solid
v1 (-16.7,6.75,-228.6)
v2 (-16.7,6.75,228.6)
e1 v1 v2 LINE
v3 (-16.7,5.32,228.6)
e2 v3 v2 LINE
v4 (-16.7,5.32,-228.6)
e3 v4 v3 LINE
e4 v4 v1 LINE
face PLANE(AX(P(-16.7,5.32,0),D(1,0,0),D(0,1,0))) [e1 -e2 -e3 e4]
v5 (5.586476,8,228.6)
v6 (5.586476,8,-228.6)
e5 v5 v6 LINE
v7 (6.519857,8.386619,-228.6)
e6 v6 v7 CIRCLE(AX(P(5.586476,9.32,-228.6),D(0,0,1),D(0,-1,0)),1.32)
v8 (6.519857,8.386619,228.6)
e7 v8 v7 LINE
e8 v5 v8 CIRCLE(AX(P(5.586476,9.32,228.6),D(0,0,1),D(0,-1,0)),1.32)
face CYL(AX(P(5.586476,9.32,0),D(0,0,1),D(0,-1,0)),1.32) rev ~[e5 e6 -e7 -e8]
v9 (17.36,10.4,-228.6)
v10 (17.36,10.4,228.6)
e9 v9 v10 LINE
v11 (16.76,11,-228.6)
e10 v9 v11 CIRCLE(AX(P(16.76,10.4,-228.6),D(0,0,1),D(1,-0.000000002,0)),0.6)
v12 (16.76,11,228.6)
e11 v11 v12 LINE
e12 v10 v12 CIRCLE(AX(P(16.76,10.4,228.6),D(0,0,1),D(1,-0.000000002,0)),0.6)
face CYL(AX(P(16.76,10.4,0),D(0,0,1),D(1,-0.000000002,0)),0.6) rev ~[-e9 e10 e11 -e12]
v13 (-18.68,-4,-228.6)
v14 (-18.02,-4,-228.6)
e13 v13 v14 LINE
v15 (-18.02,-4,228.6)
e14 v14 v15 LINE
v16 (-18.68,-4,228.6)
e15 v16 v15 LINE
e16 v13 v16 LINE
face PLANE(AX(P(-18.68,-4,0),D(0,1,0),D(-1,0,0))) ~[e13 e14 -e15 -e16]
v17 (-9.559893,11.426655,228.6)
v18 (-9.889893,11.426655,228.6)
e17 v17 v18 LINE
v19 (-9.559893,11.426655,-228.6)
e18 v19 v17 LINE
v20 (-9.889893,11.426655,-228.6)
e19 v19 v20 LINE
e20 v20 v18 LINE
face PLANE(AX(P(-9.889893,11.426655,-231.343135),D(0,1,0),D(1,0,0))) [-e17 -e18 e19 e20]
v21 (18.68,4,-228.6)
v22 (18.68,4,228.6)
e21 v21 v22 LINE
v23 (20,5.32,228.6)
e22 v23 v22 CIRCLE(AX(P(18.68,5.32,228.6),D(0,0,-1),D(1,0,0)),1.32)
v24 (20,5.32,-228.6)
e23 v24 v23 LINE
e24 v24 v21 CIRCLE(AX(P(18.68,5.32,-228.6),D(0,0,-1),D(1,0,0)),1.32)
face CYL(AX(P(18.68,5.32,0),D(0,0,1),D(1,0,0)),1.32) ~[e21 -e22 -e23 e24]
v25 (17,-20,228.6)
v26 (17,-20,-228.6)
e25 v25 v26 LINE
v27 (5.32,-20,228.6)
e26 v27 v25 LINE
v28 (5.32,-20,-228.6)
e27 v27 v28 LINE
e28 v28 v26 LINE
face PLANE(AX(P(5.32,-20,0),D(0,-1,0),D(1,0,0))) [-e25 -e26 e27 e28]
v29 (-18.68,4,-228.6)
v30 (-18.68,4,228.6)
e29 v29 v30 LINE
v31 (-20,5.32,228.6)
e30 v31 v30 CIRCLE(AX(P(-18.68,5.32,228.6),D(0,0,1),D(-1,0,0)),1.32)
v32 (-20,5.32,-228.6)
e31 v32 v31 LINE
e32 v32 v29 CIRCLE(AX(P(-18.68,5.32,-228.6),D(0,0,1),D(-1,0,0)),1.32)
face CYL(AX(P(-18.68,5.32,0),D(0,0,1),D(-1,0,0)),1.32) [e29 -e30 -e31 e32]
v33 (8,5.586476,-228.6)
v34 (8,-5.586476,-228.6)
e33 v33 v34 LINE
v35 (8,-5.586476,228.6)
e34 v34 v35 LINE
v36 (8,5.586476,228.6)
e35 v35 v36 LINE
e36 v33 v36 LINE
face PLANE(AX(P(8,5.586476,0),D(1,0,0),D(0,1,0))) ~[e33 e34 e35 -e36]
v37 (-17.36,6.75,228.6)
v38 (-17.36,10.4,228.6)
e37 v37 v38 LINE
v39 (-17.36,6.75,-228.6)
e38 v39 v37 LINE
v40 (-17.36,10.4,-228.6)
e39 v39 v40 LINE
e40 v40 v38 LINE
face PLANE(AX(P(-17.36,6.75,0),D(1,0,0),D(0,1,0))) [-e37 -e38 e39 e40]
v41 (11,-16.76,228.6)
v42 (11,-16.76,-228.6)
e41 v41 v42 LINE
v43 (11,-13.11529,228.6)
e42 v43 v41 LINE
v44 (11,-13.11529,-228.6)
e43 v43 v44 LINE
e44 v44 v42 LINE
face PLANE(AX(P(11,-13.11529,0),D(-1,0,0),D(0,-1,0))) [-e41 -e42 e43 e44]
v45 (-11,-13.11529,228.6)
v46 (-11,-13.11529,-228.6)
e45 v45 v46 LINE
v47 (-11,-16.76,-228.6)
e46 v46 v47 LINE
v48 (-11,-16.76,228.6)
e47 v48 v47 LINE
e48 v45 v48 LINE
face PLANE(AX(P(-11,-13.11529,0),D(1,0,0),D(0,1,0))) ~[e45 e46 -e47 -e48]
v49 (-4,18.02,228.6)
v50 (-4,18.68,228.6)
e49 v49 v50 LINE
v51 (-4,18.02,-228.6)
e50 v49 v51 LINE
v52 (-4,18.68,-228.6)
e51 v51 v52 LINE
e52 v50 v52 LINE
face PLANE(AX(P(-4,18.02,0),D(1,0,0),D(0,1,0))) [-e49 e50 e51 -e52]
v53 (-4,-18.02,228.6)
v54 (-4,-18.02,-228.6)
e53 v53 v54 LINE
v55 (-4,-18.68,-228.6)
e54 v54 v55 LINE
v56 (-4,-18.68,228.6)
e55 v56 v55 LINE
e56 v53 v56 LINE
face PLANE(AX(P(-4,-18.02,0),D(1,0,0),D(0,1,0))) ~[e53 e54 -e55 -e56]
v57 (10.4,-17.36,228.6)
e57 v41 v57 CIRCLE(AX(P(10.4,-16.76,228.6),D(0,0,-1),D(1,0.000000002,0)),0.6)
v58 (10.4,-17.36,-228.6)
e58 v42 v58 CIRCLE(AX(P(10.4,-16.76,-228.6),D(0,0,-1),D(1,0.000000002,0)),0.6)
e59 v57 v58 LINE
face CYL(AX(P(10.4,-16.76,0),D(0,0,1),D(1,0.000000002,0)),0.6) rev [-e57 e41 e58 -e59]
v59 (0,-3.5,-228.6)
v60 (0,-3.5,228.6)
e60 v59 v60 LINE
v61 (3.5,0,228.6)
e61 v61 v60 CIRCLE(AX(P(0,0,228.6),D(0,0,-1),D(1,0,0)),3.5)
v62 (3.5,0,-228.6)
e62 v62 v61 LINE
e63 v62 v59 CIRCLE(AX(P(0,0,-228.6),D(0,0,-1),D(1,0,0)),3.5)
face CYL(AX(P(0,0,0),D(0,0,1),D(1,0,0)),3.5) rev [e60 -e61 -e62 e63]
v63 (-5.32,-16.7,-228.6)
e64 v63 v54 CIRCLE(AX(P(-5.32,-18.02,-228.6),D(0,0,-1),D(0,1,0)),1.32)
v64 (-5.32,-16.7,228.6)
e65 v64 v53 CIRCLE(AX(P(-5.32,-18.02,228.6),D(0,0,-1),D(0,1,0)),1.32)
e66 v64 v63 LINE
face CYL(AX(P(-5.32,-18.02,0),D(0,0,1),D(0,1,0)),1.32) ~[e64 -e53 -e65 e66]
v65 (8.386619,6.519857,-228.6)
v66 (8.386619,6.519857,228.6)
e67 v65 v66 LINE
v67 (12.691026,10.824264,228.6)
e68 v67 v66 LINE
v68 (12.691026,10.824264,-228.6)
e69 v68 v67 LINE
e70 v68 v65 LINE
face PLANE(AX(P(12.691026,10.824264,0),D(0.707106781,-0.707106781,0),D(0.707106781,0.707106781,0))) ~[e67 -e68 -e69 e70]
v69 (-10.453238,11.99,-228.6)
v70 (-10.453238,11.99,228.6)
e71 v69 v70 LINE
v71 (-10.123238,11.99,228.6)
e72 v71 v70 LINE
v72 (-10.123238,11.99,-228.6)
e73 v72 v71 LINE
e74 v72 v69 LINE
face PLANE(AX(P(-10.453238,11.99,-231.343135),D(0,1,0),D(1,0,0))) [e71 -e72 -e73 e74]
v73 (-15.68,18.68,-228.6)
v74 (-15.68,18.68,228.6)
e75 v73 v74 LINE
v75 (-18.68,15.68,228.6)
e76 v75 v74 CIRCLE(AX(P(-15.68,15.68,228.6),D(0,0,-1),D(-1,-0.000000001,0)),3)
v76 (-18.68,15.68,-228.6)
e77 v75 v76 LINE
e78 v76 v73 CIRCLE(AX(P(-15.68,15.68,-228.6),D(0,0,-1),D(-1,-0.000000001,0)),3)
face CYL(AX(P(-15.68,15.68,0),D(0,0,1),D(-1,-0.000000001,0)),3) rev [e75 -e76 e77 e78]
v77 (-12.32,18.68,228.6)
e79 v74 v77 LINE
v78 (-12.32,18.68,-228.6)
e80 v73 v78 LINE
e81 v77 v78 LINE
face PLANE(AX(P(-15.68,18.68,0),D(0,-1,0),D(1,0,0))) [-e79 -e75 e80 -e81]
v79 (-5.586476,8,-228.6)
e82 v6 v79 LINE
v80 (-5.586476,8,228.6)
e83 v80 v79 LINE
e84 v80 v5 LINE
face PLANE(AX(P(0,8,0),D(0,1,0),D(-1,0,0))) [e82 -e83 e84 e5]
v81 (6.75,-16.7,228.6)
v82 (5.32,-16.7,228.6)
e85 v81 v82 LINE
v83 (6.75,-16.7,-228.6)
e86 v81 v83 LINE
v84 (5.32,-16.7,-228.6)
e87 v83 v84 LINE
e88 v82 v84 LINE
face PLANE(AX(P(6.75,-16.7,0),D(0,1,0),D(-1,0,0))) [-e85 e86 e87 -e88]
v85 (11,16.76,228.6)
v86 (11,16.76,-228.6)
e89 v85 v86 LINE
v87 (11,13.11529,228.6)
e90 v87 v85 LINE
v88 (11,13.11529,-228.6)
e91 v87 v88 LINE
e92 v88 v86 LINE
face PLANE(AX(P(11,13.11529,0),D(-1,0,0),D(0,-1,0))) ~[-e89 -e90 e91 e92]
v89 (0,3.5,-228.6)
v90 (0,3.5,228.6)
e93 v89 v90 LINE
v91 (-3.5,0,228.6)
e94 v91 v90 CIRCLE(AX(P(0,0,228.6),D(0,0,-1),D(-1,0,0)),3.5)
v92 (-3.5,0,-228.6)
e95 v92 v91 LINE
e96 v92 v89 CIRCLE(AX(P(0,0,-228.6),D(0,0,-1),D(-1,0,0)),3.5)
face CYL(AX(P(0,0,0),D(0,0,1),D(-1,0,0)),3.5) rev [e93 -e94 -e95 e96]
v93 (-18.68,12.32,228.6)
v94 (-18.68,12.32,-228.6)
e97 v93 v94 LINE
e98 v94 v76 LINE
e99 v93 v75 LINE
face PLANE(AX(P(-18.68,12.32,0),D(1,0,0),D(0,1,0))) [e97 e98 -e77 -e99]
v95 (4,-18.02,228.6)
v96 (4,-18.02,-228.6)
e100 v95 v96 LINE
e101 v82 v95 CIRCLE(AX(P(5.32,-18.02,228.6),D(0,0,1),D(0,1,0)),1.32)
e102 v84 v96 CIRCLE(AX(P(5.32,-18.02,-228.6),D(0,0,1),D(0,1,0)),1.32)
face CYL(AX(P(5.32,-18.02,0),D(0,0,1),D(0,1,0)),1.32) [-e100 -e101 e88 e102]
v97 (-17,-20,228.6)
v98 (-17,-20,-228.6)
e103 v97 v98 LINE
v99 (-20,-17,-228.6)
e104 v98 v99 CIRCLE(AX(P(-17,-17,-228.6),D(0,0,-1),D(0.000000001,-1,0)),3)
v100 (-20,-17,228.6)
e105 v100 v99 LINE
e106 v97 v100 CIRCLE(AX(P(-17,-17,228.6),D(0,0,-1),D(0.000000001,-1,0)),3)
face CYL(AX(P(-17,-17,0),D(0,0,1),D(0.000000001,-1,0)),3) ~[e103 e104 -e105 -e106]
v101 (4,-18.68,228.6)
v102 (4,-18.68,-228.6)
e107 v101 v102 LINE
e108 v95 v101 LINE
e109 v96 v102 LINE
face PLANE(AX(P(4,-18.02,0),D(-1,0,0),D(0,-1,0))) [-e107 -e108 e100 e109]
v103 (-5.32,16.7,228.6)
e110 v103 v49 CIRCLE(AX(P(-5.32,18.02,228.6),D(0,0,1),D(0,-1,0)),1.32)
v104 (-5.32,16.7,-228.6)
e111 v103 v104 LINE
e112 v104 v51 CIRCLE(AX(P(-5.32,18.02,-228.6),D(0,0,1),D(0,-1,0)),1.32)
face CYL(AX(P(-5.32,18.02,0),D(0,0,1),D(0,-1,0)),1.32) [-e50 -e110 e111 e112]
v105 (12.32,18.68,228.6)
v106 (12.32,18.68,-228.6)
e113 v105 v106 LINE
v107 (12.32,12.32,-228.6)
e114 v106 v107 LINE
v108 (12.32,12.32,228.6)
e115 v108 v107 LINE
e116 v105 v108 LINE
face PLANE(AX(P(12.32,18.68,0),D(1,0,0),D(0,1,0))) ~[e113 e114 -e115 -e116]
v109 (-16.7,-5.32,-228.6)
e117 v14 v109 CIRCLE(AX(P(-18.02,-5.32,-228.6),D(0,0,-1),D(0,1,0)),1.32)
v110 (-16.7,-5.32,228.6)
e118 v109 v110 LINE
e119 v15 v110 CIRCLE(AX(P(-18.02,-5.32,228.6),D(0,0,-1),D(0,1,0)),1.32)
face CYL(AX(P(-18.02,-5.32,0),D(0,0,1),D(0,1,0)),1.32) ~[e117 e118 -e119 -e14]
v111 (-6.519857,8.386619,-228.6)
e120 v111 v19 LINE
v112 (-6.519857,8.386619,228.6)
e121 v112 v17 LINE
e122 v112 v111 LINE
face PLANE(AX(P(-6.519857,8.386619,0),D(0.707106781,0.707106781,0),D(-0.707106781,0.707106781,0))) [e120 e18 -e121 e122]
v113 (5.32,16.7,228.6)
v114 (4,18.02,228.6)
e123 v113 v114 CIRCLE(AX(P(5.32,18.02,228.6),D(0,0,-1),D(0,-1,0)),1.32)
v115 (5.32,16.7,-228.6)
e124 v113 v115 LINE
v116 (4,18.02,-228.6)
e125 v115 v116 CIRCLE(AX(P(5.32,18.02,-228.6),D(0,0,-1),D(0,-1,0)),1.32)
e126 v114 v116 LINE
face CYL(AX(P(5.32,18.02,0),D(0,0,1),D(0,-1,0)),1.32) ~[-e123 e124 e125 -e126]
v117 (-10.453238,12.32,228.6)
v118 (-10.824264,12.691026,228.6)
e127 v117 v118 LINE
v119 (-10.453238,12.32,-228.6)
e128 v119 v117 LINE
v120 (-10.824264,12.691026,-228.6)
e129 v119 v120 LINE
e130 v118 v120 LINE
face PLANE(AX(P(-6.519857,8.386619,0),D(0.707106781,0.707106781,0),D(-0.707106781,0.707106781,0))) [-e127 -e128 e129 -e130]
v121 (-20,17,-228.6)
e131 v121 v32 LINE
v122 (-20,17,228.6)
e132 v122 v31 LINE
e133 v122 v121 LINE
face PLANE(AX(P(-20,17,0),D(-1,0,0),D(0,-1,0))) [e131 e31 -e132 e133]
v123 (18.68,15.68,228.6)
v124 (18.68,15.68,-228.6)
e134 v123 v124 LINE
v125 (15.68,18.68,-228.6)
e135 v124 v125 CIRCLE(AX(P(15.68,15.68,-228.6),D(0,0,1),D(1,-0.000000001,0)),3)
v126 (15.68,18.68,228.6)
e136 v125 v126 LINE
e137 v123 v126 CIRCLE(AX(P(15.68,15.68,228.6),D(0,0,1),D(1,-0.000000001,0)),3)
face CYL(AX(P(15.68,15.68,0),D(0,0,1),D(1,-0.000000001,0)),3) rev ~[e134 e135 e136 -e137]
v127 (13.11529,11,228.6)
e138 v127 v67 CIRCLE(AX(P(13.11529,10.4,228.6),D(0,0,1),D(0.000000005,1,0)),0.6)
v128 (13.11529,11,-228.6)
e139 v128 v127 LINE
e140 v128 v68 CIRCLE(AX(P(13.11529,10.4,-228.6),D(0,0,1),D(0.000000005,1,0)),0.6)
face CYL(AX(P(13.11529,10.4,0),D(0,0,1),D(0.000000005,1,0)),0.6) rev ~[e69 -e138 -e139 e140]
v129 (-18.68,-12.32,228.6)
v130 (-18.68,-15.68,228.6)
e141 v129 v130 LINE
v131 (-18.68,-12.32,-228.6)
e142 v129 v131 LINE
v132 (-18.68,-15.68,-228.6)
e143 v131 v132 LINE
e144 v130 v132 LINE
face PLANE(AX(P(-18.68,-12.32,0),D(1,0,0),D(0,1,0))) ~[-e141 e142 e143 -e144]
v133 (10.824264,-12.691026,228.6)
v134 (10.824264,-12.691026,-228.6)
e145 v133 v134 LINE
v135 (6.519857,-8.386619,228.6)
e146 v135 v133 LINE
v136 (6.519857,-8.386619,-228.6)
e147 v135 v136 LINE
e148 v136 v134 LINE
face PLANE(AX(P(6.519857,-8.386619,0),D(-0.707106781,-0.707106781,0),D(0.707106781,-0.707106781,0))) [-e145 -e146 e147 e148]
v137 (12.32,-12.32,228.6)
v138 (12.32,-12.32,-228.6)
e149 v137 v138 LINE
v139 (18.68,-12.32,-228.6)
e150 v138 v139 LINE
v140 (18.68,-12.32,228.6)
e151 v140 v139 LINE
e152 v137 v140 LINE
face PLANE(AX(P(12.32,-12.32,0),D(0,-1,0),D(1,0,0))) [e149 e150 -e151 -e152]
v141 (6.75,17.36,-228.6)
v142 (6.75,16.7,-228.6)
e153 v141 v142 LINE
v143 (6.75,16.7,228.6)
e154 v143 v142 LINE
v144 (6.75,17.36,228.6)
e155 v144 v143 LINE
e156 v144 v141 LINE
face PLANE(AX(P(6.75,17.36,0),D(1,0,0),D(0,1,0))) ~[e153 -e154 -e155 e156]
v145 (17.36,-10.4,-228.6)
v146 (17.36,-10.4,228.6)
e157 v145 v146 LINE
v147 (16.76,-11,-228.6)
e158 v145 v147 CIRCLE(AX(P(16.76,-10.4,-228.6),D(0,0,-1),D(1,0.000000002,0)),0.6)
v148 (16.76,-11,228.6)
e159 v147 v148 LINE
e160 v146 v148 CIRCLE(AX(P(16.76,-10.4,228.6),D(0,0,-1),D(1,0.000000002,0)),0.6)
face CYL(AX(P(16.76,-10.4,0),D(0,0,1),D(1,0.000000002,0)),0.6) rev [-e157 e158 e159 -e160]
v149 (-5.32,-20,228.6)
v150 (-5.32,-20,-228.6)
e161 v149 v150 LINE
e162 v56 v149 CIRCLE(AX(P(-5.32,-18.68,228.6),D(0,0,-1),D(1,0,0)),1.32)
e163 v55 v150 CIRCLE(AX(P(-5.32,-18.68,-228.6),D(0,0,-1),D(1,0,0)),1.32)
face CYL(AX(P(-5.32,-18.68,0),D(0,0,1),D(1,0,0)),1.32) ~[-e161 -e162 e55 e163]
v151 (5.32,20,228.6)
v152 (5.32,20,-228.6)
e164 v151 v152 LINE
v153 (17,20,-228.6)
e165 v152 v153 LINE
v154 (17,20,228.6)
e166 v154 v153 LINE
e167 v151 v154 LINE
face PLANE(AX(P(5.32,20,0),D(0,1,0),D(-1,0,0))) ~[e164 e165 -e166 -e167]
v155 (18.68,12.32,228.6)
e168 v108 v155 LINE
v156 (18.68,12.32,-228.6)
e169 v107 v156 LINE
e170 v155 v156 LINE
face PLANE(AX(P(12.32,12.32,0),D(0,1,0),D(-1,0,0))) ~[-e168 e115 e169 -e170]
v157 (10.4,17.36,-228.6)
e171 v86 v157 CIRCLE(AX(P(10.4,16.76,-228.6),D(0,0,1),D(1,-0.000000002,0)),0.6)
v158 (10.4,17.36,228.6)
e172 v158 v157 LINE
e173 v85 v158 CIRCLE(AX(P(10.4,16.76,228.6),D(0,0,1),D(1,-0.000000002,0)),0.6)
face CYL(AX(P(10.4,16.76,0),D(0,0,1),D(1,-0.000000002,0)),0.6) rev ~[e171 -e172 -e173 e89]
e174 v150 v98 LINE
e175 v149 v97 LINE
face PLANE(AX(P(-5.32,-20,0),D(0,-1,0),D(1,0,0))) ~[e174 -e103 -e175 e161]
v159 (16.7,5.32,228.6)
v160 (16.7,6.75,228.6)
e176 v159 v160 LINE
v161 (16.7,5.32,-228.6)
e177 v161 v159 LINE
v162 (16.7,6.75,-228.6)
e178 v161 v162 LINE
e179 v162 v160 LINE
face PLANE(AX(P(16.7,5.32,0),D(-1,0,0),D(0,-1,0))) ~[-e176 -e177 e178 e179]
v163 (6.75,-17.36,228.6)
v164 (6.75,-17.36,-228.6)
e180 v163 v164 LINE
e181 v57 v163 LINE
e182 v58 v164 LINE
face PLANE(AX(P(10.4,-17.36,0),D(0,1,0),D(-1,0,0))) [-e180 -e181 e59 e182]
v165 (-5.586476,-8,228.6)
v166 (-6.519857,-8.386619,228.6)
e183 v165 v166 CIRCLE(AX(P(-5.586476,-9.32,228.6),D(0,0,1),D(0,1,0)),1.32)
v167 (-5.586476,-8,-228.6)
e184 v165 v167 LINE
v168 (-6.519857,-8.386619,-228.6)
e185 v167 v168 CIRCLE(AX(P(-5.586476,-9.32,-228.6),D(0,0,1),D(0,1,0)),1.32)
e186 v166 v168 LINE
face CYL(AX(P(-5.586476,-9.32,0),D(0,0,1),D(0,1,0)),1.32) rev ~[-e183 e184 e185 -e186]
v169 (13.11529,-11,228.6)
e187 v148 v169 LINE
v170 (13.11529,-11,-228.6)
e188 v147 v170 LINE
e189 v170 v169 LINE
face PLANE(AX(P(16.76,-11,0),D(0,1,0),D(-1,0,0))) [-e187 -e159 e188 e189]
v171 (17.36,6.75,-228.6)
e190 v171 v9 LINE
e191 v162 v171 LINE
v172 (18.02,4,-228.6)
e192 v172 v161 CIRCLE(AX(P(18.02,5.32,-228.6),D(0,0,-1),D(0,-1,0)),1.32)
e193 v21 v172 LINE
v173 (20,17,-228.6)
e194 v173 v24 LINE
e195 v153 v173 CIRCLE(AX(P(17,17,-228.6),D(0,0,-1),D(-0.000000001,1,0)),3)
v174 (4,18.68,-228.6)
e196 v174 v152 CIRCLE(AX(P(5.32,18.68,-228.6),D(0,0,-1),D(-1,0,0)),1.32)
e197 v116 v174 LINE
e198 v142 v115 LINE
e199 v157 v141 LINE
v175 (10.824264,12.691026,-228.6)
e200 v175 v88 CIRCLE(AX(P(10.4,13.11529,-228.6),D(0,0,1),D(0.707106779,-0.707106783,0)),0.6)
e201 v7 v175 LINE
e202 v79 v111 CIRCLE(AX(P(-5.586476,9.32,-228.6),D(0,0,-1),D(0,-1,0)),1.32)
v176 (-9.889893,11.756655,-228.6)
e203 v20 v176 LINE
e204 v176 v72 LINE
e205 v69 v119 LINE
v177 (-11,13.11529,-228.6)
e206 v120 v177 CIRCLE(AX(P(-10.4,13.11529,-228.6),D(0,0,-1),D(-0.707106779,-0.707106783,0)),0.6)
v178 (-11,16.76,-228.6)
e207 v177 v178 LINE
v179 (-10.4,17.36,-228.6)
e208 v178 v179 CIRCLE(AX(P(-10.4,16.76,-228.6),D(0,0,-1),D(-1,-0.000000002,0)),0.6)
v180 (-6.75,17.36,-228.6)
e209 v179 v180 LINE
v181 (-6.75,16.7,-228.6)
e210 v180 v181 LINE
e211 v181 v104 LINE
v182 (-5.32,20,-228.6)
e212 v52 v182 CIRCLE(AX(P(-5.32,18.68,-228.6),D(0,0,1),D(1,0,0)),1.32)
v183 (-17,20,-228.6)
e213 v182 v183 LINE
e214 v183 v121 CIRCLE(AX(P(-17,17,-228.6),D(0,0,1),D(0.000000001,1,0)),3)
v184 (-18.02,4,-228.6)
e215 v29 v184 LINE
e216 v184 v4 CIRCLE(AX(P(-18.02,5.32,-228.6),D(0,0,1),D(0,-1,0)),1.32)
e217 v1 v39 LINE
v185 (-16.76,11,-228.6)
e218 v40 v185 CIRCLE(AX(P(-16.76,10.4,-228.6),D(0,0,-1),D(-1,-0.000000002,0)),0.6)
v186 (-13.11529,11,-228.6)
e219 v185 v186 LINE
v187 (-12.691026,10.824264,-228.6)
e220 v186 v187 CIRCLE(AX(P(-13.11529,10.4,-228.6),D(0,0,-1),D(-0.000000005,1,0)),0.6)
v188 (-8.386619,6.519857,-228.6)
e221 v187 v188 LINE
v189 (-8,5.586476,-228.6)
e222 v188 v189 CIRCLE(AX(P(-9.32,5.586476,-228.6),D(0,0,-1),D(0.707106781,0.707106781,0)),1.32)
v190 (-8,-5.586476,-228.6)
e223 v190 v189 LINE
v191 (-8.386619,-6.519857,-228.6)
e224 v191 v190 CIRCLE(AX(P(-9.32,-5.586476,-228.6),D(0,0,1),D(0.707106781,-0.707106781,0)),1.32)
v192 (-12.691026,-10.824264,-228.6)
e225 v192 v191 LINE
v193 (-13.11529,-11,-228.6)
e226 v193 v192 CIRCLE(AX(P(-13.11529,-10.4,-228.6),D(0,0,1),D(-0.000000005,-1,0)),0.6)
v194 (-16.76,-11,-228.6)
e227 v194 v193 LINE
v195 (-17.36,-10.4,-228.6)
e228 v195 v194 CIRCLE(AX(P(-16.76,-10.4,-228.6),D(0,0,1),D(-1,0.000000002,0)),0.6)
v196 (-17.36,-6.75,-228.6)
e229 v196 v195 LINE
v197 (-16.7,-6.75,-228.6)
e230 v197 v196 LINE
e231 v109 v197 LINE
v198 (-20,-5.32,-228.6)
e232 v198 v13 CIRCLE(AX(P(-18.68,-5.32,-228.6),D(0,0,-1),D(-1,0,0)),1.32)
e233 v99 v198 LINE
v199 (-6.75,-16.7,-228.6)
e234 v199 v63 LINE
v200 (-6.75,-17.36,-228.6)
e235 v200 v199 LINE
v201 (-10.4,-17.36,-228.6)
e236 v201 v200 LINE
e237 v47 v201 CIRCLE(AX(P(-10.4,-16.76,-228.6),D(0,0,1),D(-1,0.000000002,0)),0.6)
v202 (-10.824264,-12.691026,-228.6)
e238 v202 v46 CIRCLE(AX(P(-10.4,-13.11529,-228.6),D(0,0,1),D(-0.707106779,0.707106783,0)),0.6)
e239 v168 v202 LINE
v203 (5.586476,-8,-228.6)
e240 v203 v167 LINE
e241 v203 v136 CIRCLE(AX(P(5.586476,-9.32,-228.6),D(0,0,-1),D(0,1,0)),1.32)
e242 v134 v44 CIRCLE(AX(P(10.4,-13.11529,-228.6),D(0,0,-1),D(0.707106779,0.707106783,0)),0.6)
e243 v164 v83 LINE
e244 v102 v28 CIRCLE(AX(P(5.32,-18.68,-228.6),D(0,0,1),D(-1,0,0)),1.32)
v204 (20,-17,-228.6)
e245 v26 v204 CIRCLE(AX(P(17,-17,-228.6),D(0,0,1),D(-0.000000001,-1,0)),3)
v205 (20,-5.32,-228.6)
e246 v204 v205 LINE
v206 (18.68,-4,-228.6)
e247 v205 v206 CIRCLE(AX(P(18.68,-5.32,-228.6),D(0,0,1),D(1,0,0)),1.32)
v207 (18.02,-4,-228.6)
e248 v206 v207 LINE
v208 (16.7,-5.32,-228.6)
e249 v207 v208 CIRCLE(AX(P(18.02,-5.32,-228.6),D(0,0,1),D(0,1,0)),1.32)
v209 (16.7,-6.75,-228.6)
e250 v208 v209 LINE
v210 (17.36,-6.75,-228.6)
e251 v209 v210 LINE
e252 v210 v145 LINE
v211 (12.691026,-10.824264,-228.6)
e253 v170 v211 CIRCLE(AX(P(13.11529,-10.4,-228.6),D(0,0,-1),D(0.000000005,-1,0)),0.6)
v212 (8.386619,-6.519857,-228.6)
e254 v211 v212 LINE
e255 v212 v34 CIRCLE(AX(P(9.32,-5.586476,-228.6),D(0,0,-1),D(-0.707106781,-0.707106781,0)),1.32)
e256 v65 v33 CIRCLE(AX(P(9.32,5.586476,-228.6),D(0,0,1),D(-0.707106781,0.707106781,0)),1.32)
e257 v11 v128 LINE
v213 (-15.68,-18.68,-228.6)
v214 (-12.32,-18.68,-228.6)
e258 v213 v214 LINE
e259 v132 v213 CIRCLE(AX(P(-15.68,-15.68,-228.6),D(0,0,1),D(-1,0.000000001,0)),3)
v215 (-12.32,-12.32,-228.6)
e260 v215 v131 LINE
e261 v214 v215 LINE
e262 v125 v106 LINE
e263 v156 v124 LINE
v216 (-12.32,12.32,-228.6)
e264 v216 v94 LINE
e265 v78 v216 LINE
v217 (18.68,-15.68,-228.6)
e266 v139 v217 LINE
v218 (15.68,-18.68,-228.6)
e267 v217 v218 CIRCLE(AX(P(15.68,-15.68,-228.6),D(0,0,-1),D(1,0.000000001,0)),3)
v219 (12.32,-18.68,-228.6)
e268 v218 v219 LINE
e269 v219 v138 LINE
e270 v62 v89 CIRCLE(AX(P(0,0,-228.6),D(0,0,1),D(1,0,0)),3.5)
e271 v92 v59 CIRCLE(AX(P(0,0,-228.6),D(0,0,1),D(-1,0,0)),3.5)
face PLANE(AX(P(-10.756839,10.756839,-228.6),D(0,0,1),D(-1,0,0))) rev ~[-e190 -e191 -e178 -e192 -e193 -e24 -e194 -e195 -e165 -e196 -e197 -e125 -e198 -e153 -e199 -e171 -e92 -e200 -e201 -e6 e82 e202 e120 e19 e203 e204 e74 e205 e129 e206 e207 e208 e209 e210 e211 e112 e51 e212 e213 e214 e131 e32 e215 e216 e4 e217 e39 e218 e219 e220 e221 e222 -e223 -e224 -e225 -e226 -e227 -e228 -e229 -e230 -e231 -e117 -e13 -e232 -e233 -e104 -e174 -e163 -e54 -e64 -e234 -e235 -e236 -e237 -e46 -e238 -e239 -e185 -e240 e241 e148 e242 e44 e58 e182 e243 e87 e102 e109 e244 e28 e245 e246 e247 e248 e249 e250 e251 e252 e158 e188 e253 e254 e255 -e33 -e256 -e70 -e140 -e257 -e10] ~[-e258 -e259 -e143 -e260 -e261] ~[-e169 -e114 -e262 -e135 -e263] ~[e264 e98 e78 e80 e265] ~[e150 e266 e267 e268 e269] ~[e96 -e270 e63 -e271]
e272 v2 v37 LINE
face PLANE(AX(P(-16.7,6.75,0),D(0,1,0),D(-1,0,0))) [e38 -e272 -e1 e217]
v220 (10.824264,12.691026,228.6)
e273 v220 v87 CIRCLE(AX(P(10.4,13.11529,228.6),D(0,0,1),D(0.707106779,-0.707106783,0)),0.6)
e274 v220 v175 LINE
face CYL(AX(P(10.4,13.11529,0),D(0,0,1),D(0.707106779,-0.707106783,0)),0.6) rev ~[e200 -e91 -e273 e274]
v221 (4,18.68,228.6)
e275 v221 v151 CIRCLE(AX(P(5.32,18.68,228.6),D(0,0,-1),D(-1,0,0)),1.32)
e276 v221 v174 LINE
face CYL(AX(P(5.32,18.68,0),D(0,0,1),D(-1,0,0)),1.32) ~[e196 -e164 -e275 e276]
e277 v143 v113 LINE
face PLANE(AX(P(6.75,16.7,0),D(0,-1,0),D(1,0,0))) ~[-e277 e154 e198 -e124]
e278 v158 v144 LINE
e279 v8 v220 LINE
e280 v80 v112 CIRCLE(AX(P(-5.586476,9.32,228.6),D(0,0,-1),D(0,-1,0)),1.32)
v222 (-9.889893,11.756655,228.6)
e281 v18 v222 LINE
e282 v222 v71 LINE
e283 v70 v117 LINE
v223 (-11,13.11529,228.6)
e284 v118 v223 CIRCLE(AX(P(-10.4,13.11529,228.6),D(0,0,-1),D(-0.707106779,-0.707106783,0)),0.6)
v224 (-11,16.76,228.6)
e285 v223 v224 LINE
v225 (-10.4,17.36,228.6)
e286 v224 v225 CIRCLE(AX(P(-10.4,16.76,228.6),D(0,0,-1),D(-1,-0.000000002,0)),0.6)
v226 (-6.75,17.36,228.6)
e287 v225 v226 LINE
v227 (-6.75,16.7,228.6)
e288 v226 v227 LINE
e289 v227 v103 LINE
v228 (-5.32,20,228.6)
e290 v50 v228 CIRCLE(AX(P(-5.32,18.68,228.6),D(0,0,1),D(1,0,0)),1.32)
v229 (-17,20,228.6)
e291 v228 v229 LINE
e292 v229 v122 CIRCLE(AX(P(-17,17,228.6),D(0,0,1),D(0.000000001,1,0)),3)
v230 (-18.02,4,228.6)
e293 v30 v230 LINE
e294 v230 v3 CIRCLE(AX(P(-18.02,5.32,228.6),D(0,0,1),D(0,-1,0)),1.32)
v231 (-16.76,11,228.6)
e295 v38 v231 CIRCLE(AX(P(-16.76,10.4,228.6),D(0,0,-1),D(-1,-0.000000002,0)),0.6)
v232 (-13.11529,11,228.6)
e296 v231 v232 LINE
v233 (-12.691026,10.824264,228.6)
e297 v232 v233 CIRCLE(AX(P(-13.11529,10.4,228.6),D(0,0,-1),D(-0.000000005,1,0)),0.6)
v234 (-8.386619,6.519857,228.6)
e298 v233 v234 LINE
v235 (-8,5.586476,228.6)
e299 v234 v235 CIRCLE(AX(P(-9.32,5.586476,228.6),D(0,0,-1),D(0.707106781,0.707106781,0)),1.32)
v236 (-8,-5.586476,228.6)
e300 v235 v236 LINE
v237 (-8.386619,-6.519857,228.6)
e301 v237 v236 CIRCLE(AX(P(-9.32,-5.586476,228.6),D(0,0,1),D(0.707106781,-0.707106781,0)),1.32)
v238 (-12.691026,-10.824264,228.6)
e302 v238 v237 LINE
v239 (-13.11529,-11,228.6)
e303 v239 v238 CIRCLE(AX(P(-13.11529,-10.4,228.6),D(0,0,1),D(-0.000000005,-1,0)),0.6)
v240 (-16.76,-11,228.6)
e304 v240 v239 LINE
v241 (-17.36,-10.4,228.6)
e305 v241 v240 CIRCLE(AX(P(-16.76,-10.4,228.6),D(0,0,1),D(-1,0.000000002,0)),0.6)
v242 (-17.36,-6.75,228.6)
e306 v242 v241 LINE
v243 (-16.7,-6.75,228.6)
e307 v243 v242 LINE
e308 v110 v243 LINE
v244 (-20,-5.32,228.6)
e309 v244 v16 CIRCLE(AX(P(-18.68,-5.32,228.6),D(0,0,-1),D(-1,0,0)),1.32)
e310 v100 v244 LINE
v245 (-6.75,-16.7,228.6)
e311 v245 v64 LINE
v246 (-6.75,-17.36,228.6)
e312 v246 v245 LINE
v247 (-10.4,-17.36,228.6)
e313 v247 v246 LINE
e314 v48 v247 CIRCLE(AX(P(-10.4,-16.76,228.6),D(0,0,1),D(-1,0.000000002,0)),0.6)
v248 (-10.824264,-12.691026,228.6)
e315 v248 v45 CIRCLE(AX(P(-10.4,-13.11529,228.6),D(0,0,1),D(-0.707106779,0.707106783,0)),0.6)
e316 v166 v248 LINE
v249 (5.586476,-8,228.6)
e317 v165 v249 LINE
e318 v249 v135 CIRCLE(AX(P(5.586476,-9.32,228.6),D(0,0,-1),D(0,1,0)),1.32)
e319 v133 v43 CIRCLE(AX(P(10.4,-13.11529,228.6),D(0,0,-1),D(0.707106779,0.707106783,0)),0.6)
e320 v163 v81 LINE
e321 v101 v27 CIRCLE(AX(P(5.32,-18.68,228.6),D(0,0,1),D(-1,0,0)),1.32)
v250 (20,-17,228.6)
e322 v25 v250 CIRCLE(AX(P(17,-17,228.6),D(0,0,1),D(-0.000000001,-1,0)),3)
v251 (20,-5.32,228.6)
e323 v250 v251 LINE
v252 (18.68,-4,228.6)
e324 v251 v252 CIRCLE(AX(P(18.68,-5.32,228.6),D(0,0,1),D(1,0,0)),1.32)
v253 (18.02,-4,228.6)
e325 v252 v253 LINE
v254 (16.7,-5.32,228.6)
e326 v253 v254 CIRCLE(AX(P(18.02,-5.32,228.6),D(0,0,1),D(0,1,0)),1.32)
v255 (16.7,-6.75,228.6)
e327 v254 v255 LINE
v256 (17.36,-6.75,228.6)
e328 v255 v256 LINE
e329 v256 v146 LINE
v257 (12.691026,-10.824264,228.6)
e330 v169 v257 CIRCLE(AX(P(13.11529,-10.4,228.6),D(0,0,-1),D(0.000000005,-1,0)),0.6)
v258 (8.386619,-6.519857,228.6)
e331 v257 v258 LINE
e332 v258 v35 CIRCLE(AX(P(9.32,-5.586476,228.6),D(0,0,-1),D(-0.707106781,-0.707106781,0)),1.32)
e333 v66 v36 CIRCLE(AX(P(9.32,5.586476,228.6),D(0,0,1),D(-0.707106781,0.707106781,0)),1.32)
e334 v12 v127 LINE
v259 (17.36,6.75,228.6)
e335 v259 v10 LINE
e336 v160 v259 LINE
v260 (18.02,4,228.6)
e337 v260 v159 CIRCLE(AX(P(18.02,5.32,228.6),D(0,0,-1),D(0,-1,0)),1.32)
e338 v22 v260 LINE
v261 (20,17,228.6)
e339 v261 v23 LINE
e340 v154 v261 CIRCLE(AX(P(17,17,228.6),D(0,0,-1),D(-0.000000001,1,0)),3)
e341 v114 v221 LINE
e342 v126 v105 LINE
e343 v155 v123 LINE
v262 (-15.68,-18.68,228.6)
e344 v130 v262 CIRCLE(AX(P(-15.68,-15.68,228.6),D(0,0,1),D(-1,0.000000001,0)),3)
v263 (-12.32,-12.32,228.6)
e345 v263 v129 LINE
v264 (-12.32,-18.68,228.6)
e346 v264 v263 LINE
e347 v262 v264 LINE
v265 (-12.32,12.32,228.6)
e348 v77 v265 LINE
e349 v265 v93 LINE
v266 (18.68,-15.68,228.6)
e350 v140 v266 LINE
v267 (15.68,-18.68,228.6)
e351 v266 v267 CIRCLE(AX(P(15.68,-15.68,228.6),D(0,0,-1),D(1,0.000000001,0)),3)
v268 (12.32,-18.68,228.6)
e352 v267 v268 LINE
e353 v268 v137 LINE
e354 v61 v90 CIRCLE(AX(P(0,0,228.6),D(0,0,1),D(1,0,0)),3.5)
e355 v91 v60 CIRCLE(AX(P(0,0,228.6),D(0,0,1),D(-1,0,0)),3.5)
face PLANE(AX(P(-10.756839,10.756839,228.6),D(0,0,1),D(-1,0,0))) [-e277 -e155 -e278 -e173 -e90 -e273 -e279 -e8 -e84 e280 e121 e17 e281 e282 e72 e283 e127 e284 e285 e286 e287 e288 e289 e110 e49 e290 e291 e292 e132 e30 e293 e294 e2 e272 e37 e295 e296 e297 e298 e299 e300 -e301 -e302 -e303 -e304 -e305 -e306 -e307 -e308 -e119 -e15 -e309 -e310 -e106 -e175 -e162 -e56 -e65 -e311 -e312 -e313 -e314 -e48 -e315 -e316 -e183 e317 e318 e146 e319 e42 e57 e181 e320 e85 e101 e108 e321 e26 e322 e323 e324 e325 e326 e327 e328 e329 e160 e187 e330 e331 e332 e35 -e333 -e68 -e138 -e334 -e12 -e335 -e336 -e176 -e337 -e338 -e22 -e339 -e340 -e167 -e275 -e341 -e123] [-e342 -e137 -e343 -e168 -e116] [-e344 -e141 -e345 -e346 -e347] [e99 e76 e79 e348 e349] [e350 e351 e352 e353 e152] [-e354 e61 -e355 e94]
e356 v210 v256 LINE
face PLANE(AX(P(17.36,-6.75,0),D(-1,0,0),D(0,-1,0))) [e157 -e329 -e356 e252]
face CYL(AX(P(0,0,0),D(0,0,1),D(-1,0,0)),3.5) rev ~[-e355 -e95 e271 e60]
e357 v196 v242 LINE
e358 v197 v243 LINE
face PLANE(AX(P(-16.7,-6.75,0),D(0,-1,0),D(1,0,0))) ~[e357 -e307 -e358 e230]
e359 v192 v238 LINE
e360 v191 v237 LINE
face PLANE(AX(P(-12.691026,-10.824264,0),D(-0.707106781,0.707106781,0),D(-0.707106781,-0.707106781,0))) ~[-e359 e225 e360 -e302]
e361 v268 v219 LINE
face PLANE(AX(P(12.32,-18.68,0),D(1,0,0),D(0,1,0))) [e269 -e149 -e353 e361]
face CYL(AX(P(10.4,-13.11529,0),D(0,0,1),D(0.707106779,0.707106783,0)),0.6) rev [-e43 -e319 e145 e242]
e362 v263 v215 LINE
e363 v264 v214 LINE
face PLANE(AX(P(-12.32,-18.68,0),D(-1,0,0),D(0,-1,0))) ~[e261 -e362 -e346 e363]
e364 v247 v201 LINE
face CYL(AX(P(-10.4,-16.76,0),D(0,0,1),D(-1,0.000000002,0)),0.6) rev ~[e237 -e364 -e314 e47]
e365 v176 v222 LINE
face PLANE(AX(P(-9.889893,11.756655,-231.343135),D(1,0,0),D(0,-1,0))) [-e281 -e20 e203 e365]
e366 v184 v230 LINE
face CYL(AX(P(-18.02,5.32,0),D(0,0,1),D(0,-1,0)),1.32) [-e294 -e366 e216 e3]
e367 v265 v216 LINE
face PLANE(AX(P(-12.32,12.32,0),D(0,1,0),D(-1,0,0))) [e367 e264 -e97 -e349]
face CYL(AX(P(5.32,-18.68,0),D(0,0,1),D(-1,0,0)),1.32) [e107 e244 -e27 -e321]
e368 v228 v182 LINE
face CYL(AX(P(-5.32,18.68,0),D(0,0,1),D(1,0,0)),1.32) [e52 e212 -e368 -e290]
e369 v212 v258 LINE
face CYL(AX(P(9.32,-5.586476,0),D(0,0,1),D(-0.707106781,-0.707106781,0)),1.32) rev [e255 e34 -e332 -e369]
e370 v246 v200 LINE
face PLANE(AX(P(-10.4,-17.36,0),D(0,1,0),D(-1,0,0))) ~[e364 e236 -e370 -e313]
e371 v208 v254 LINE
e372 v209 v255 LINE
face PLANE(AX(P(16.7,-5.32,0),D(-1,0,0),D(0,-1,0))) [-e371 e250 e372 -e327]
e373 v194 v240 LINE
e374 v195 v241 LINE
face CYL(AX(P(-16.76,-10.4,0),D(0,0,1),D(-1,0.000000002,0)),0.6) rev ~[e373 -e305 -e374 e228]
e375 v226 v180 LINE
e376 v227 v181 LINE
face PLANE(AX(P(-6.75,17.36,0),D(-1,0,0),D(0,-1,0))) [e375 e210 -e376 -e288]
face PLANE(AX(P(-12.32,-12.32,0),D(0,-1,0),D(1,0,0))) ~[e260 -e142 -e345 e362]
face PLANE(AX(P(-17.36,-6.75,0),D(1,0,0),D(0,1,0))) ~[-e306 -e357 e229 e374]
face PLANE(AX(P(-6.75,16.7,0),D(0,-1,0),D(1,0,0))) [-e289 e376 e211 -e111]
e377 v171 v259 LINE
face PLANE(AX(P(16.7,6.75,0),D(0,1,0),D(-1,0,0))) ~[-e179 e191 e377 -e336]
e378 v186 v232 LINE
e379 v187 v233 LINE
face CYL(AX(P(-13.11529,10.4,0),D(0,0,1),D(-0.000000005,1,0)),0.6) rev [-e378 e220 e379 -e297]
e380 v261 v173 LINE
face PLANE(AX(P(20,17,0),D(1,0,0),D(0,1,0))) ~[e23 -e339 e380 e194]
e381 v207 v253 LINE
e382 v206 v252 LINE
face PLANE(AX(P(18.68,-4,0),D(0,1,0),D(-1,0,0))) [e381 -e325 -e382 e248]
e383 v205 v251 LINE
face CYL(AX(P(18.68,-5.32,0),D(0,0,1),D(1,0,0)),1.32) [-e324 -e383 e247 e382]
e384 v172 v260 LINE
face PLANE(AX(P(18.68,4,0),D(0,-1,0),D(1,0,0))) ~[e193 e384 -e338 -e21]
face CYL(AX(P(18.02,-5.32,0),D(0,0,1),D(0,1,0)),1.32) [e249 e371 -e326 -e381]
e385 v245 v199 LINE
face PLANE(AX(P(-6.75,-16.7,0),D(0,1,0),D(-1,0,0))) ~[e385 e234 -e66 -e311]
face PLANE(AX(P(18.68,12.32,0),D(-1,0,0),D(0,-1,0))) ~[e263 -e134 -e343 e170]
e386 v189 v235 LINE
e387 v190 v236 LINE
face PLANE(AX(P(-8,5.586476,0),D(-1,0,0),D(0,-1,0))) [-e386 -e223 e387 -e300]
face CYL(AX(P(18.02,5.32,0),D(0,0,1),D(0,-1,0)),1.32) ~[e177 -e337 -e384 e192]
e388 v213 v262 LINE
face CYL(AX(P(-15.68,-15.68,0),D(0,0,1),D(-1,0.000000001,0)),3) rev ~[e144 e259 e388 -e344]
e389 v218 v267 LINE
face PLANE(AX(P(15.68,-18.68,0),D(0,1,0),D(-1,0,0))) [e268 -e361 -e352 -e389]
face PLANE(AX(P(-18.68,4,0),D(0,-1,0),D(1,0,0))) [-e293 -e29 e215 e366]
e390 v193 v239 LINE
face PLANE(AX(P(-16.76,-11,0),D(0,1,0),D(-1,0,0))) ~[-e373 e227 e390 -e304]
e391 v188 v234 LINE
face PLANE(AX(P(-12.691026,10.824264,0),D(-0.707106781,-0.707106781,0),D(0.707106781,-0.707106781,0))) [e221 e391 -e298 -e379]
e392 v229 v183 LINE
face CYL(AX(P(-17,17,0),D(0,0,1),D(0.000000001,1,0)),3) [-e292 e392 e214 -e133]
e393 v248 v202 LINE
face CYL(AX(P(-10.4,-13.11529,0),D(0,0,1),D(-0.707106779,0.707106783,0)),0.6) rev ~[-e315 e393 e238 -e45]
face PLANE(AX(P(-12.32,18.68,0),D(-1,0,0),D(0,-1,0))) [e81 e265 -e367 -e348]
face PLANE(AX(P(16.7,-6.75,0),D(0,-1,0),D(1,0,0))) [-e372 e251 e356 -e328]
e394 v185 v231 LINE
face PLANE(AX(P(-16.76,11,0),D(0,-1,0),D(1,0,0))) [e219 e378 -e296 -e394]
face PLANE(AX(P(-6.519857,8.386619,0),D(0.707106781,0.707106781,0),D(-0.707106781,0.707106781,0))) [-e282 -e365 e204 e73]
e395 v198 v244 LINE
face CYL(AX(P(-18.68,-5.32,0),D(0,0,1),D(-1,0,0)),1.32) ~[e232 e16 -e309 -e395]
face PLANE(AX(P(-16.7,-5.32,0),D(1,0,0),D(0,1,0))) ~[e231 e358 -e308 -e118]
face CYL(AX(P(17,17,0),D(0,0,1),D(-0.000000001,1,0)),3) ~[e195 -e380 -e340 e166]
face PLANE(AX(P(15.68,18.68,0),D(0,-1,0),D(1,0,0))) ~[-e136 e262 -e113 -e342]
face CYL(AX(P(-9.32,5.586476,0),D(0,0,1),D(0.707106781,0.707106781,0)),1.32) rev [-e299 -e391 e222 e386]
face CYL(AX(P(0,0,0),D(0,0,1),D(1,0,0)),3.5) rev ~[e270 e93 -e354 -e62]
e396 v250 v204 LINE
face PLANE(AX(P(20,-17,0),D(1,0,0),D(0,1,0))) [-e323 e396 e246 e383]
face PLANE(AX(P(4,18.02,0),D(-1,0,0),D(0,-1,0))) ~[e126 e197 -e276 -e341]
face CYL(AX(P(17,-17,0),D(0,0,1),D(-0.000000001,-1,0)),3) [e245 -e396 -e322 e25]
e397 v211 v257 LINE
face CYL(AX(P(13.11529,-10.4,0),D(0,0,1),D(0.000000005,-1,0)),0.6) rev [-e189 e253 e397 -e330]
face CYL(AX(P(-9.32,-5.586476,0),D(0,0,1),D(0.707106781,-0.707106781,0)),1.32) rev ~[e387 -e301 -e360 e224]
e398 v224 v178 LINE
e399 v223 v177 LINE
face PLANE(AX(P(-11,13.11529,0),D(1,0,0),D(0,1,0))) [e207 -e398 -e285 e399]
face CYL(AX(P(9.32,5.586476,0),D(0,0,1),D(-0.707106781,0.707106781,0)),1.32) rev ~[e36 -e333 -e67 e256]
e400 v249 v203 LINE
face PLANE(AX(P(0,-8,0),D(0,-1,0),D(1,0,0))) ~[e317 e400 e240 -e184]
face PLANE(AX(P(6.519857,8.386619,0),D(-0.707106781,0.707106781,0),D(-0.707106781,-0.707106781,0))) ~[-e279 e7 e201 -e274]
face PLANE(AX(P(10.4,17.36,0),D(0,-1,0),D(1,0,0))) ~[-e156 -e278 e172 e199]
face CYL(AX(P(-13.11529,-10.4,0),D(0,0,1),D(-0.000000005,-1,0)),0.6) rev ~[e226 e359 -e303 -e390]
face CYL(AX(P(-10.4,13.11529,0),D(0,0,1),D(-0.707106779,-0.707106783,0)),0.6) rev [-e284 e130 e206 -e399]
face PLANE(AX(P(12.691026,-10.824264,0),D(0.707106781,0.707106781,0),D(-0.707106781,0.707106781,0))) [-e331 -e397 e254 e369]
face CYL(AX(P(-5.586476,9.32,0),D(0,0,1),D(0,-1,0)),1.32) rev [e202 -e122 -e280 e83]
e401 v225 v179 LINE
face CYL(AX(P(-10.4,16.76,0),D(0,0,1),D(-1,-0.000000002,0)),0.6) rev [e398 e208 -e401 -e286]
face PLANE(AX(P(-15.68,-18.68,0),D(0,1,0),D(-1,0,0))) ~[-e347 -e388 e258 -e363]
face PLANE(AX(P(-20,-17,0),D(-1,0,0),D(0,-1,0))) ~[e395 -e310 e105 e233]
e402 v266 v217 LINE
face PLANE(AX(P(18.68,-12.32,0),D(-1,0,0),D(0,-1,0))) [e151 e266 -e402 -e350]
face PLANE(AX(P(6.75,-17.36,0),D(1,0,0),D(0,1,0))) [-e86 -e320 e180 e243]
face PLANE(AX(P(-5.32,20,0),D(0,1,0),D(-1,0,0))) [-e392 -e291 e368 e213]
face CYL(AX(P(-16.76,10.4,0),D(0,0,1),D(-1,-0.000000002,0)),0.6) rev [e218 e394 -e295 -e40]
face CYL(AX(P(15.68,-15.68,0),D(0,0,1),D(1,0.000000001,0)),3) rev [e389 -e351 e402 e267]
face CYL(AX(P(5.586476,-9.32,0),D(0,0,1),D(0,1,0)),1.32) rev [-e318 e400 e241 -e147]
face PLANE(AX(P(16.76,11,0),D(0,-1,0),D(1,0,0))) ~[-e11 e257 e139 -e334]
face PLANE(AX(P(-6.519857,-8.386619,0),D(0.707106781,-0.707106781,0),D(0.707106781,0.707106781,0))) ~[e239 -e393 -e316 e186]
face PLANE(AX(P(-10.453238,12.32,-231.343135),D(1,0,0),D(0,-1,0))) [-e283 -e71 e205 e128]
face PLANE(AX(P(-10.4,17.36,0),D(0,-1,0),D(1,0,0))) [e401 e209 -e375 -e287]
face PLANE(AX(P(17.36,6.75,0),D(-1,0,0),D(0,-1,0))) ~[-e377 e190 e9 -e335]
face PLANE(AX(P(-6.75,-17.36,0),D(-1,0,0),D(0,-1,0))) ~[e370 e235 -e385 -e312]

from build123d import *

# Parameters (mm, degrees)
BOSS_EXTRUDE1_DEPTH     = 228.6
CUT_EXTRUDE1_DEPTH      = 231.343135344
CUT_EXTRUDE1_DEPTH_BACK = 231.343135344


with BuildPart() as part:
    # Sketch4 → Boss-Extrude1 (new, symmetric)
    with BuildSketch(Plane.XY):
        with BuildLine():
            Line((20, -17), (20, -5.32))
            ThreePointArc((20, -5.32), (19.613380951, -4.386619049), (18.68, -4))
            Line((18.68, -4), (18.02, -4))
            ThreePointArc((18.02, -4), (17.086619049, -4.386619049), (16.7, -5.32))
            Line((16.7, -5.32), (16.7, -6.75))
            Line((16.7, -6.75), (17.36, -6.75))
            Line((17.36, -6.75), (17.36, -10.4))
            ThreePointArc((17.36, -10.4), (17.184264069, -10.824264069), (16.76, -11))
            Line((16.76, -11), (13.11529004, -11))
            ThreePointArc((13.11529004, -11), (12.88567998, -10.95432772), (12.691025971, -10.824264069))
            Line((12.691025971, -10.824264069), (8.386619049, -6.519857147))
            ThreePointArc((8.386619049, -6.519857147), (8.100479017, -6.091618326), (8, -5.586476195))
            Line((8, -5.586476195), (8, 0))
            Line((8, 0), (3.5, 0))
            ThreePointArc((3.5, 0), (2.474873734, -2.474873734), (0, -3.5))
            Line((0, -3.5), (0, -8))
            Line((0, -8), (5.586476195, -8))
            ThreePointArc((5.586476195, -8), (6.091618326, -8.100479017), (6.519857147, -8.386619049))
            Line((6.519857147, -8.386619049), (10.824264069, -12.691025971))
            ThreePointArc((10.824264069, -12.691025971), (10.95432772, -12.88567998), (11, -13.11529004))
            Line((11, -13.11529004), (11, -16.76))
            ThreePointArc((11, -16.76), (10.824264069, -17.184264069), (10.4, -17.36))
            Line((10.4, -17.36), (6.75, -17.36))
            Line((6.75, -17.36), (6.75, -16.7))
            Line((6.75, -16.7), (5.32, -16.7))
            ThreePointArc((5.32, -16.7), (4.386619049, -17.086619049), (4, -18.02))
            Line((4, -18.02), (4, -18.68))
            ThreePointArc((4, -18.68), (4.386619049, -19.613380951), (5.32, -20))
            Line((5.32, -20), (17, -20))
            ThreePointArc((17, -20), (19.121320344, -19.121320344), (20, -17))
        make_face()
        with BuildLine():
            Line((15.68, -18.68), (12.32, -18.68))
            Line((12.32, -18.68), (12.32, -12.32))
            Line((12.32, -12.32), (18.68, -12.32))
            Line((18.68, -12.32), (18.68, -15.68))
            ThreePointArc((18.68, -15.68), (17.801320344, -17.801320344), (15.68, -18.68))
        make_face(mode=Mode.SUBTRACT)
    extrude(amount=BOSS_EXTRUDE1_DEPTH, both=True)

    # Mirror1: part across plane


with BuildPart() as part_1:
    add(part.part)
    add(part.part.mirror(Plane(origin=(0, 0, 0), x_dir=(0, 0, 1), z_dir=(1, 0, 0))))

    # Mirror2: part across plane


with BuildPart() as part_2:
    add(part_1.part)
    add(part_1.part.mirror(Plane.ZX))

    # Sketch5 → Cut-Extrude1 (cut, two sides: drawn at the far end of the back side and taken through both)
    with BuildSketch(Plane.XY.offset(-CUT_EXTRUDE1_DEPTH_BACK)):
        Polygon((-10.453238098, 12.32), (-10.453238098, 11.99), (-10.123238098, 11.99), (-9.88989286, 11.756654762), (-9.88989286, 11.426654762), (-9.55989286, 11.426654762), (-9.55989286, 12.32), align=None)
    extrude(amount=CUT_EXTRUDE1_DEPTH + CUT_EXTRUDE1_DEPTH_BACK, mode=Mode.SUBTRACT)


solid = part_2.part
